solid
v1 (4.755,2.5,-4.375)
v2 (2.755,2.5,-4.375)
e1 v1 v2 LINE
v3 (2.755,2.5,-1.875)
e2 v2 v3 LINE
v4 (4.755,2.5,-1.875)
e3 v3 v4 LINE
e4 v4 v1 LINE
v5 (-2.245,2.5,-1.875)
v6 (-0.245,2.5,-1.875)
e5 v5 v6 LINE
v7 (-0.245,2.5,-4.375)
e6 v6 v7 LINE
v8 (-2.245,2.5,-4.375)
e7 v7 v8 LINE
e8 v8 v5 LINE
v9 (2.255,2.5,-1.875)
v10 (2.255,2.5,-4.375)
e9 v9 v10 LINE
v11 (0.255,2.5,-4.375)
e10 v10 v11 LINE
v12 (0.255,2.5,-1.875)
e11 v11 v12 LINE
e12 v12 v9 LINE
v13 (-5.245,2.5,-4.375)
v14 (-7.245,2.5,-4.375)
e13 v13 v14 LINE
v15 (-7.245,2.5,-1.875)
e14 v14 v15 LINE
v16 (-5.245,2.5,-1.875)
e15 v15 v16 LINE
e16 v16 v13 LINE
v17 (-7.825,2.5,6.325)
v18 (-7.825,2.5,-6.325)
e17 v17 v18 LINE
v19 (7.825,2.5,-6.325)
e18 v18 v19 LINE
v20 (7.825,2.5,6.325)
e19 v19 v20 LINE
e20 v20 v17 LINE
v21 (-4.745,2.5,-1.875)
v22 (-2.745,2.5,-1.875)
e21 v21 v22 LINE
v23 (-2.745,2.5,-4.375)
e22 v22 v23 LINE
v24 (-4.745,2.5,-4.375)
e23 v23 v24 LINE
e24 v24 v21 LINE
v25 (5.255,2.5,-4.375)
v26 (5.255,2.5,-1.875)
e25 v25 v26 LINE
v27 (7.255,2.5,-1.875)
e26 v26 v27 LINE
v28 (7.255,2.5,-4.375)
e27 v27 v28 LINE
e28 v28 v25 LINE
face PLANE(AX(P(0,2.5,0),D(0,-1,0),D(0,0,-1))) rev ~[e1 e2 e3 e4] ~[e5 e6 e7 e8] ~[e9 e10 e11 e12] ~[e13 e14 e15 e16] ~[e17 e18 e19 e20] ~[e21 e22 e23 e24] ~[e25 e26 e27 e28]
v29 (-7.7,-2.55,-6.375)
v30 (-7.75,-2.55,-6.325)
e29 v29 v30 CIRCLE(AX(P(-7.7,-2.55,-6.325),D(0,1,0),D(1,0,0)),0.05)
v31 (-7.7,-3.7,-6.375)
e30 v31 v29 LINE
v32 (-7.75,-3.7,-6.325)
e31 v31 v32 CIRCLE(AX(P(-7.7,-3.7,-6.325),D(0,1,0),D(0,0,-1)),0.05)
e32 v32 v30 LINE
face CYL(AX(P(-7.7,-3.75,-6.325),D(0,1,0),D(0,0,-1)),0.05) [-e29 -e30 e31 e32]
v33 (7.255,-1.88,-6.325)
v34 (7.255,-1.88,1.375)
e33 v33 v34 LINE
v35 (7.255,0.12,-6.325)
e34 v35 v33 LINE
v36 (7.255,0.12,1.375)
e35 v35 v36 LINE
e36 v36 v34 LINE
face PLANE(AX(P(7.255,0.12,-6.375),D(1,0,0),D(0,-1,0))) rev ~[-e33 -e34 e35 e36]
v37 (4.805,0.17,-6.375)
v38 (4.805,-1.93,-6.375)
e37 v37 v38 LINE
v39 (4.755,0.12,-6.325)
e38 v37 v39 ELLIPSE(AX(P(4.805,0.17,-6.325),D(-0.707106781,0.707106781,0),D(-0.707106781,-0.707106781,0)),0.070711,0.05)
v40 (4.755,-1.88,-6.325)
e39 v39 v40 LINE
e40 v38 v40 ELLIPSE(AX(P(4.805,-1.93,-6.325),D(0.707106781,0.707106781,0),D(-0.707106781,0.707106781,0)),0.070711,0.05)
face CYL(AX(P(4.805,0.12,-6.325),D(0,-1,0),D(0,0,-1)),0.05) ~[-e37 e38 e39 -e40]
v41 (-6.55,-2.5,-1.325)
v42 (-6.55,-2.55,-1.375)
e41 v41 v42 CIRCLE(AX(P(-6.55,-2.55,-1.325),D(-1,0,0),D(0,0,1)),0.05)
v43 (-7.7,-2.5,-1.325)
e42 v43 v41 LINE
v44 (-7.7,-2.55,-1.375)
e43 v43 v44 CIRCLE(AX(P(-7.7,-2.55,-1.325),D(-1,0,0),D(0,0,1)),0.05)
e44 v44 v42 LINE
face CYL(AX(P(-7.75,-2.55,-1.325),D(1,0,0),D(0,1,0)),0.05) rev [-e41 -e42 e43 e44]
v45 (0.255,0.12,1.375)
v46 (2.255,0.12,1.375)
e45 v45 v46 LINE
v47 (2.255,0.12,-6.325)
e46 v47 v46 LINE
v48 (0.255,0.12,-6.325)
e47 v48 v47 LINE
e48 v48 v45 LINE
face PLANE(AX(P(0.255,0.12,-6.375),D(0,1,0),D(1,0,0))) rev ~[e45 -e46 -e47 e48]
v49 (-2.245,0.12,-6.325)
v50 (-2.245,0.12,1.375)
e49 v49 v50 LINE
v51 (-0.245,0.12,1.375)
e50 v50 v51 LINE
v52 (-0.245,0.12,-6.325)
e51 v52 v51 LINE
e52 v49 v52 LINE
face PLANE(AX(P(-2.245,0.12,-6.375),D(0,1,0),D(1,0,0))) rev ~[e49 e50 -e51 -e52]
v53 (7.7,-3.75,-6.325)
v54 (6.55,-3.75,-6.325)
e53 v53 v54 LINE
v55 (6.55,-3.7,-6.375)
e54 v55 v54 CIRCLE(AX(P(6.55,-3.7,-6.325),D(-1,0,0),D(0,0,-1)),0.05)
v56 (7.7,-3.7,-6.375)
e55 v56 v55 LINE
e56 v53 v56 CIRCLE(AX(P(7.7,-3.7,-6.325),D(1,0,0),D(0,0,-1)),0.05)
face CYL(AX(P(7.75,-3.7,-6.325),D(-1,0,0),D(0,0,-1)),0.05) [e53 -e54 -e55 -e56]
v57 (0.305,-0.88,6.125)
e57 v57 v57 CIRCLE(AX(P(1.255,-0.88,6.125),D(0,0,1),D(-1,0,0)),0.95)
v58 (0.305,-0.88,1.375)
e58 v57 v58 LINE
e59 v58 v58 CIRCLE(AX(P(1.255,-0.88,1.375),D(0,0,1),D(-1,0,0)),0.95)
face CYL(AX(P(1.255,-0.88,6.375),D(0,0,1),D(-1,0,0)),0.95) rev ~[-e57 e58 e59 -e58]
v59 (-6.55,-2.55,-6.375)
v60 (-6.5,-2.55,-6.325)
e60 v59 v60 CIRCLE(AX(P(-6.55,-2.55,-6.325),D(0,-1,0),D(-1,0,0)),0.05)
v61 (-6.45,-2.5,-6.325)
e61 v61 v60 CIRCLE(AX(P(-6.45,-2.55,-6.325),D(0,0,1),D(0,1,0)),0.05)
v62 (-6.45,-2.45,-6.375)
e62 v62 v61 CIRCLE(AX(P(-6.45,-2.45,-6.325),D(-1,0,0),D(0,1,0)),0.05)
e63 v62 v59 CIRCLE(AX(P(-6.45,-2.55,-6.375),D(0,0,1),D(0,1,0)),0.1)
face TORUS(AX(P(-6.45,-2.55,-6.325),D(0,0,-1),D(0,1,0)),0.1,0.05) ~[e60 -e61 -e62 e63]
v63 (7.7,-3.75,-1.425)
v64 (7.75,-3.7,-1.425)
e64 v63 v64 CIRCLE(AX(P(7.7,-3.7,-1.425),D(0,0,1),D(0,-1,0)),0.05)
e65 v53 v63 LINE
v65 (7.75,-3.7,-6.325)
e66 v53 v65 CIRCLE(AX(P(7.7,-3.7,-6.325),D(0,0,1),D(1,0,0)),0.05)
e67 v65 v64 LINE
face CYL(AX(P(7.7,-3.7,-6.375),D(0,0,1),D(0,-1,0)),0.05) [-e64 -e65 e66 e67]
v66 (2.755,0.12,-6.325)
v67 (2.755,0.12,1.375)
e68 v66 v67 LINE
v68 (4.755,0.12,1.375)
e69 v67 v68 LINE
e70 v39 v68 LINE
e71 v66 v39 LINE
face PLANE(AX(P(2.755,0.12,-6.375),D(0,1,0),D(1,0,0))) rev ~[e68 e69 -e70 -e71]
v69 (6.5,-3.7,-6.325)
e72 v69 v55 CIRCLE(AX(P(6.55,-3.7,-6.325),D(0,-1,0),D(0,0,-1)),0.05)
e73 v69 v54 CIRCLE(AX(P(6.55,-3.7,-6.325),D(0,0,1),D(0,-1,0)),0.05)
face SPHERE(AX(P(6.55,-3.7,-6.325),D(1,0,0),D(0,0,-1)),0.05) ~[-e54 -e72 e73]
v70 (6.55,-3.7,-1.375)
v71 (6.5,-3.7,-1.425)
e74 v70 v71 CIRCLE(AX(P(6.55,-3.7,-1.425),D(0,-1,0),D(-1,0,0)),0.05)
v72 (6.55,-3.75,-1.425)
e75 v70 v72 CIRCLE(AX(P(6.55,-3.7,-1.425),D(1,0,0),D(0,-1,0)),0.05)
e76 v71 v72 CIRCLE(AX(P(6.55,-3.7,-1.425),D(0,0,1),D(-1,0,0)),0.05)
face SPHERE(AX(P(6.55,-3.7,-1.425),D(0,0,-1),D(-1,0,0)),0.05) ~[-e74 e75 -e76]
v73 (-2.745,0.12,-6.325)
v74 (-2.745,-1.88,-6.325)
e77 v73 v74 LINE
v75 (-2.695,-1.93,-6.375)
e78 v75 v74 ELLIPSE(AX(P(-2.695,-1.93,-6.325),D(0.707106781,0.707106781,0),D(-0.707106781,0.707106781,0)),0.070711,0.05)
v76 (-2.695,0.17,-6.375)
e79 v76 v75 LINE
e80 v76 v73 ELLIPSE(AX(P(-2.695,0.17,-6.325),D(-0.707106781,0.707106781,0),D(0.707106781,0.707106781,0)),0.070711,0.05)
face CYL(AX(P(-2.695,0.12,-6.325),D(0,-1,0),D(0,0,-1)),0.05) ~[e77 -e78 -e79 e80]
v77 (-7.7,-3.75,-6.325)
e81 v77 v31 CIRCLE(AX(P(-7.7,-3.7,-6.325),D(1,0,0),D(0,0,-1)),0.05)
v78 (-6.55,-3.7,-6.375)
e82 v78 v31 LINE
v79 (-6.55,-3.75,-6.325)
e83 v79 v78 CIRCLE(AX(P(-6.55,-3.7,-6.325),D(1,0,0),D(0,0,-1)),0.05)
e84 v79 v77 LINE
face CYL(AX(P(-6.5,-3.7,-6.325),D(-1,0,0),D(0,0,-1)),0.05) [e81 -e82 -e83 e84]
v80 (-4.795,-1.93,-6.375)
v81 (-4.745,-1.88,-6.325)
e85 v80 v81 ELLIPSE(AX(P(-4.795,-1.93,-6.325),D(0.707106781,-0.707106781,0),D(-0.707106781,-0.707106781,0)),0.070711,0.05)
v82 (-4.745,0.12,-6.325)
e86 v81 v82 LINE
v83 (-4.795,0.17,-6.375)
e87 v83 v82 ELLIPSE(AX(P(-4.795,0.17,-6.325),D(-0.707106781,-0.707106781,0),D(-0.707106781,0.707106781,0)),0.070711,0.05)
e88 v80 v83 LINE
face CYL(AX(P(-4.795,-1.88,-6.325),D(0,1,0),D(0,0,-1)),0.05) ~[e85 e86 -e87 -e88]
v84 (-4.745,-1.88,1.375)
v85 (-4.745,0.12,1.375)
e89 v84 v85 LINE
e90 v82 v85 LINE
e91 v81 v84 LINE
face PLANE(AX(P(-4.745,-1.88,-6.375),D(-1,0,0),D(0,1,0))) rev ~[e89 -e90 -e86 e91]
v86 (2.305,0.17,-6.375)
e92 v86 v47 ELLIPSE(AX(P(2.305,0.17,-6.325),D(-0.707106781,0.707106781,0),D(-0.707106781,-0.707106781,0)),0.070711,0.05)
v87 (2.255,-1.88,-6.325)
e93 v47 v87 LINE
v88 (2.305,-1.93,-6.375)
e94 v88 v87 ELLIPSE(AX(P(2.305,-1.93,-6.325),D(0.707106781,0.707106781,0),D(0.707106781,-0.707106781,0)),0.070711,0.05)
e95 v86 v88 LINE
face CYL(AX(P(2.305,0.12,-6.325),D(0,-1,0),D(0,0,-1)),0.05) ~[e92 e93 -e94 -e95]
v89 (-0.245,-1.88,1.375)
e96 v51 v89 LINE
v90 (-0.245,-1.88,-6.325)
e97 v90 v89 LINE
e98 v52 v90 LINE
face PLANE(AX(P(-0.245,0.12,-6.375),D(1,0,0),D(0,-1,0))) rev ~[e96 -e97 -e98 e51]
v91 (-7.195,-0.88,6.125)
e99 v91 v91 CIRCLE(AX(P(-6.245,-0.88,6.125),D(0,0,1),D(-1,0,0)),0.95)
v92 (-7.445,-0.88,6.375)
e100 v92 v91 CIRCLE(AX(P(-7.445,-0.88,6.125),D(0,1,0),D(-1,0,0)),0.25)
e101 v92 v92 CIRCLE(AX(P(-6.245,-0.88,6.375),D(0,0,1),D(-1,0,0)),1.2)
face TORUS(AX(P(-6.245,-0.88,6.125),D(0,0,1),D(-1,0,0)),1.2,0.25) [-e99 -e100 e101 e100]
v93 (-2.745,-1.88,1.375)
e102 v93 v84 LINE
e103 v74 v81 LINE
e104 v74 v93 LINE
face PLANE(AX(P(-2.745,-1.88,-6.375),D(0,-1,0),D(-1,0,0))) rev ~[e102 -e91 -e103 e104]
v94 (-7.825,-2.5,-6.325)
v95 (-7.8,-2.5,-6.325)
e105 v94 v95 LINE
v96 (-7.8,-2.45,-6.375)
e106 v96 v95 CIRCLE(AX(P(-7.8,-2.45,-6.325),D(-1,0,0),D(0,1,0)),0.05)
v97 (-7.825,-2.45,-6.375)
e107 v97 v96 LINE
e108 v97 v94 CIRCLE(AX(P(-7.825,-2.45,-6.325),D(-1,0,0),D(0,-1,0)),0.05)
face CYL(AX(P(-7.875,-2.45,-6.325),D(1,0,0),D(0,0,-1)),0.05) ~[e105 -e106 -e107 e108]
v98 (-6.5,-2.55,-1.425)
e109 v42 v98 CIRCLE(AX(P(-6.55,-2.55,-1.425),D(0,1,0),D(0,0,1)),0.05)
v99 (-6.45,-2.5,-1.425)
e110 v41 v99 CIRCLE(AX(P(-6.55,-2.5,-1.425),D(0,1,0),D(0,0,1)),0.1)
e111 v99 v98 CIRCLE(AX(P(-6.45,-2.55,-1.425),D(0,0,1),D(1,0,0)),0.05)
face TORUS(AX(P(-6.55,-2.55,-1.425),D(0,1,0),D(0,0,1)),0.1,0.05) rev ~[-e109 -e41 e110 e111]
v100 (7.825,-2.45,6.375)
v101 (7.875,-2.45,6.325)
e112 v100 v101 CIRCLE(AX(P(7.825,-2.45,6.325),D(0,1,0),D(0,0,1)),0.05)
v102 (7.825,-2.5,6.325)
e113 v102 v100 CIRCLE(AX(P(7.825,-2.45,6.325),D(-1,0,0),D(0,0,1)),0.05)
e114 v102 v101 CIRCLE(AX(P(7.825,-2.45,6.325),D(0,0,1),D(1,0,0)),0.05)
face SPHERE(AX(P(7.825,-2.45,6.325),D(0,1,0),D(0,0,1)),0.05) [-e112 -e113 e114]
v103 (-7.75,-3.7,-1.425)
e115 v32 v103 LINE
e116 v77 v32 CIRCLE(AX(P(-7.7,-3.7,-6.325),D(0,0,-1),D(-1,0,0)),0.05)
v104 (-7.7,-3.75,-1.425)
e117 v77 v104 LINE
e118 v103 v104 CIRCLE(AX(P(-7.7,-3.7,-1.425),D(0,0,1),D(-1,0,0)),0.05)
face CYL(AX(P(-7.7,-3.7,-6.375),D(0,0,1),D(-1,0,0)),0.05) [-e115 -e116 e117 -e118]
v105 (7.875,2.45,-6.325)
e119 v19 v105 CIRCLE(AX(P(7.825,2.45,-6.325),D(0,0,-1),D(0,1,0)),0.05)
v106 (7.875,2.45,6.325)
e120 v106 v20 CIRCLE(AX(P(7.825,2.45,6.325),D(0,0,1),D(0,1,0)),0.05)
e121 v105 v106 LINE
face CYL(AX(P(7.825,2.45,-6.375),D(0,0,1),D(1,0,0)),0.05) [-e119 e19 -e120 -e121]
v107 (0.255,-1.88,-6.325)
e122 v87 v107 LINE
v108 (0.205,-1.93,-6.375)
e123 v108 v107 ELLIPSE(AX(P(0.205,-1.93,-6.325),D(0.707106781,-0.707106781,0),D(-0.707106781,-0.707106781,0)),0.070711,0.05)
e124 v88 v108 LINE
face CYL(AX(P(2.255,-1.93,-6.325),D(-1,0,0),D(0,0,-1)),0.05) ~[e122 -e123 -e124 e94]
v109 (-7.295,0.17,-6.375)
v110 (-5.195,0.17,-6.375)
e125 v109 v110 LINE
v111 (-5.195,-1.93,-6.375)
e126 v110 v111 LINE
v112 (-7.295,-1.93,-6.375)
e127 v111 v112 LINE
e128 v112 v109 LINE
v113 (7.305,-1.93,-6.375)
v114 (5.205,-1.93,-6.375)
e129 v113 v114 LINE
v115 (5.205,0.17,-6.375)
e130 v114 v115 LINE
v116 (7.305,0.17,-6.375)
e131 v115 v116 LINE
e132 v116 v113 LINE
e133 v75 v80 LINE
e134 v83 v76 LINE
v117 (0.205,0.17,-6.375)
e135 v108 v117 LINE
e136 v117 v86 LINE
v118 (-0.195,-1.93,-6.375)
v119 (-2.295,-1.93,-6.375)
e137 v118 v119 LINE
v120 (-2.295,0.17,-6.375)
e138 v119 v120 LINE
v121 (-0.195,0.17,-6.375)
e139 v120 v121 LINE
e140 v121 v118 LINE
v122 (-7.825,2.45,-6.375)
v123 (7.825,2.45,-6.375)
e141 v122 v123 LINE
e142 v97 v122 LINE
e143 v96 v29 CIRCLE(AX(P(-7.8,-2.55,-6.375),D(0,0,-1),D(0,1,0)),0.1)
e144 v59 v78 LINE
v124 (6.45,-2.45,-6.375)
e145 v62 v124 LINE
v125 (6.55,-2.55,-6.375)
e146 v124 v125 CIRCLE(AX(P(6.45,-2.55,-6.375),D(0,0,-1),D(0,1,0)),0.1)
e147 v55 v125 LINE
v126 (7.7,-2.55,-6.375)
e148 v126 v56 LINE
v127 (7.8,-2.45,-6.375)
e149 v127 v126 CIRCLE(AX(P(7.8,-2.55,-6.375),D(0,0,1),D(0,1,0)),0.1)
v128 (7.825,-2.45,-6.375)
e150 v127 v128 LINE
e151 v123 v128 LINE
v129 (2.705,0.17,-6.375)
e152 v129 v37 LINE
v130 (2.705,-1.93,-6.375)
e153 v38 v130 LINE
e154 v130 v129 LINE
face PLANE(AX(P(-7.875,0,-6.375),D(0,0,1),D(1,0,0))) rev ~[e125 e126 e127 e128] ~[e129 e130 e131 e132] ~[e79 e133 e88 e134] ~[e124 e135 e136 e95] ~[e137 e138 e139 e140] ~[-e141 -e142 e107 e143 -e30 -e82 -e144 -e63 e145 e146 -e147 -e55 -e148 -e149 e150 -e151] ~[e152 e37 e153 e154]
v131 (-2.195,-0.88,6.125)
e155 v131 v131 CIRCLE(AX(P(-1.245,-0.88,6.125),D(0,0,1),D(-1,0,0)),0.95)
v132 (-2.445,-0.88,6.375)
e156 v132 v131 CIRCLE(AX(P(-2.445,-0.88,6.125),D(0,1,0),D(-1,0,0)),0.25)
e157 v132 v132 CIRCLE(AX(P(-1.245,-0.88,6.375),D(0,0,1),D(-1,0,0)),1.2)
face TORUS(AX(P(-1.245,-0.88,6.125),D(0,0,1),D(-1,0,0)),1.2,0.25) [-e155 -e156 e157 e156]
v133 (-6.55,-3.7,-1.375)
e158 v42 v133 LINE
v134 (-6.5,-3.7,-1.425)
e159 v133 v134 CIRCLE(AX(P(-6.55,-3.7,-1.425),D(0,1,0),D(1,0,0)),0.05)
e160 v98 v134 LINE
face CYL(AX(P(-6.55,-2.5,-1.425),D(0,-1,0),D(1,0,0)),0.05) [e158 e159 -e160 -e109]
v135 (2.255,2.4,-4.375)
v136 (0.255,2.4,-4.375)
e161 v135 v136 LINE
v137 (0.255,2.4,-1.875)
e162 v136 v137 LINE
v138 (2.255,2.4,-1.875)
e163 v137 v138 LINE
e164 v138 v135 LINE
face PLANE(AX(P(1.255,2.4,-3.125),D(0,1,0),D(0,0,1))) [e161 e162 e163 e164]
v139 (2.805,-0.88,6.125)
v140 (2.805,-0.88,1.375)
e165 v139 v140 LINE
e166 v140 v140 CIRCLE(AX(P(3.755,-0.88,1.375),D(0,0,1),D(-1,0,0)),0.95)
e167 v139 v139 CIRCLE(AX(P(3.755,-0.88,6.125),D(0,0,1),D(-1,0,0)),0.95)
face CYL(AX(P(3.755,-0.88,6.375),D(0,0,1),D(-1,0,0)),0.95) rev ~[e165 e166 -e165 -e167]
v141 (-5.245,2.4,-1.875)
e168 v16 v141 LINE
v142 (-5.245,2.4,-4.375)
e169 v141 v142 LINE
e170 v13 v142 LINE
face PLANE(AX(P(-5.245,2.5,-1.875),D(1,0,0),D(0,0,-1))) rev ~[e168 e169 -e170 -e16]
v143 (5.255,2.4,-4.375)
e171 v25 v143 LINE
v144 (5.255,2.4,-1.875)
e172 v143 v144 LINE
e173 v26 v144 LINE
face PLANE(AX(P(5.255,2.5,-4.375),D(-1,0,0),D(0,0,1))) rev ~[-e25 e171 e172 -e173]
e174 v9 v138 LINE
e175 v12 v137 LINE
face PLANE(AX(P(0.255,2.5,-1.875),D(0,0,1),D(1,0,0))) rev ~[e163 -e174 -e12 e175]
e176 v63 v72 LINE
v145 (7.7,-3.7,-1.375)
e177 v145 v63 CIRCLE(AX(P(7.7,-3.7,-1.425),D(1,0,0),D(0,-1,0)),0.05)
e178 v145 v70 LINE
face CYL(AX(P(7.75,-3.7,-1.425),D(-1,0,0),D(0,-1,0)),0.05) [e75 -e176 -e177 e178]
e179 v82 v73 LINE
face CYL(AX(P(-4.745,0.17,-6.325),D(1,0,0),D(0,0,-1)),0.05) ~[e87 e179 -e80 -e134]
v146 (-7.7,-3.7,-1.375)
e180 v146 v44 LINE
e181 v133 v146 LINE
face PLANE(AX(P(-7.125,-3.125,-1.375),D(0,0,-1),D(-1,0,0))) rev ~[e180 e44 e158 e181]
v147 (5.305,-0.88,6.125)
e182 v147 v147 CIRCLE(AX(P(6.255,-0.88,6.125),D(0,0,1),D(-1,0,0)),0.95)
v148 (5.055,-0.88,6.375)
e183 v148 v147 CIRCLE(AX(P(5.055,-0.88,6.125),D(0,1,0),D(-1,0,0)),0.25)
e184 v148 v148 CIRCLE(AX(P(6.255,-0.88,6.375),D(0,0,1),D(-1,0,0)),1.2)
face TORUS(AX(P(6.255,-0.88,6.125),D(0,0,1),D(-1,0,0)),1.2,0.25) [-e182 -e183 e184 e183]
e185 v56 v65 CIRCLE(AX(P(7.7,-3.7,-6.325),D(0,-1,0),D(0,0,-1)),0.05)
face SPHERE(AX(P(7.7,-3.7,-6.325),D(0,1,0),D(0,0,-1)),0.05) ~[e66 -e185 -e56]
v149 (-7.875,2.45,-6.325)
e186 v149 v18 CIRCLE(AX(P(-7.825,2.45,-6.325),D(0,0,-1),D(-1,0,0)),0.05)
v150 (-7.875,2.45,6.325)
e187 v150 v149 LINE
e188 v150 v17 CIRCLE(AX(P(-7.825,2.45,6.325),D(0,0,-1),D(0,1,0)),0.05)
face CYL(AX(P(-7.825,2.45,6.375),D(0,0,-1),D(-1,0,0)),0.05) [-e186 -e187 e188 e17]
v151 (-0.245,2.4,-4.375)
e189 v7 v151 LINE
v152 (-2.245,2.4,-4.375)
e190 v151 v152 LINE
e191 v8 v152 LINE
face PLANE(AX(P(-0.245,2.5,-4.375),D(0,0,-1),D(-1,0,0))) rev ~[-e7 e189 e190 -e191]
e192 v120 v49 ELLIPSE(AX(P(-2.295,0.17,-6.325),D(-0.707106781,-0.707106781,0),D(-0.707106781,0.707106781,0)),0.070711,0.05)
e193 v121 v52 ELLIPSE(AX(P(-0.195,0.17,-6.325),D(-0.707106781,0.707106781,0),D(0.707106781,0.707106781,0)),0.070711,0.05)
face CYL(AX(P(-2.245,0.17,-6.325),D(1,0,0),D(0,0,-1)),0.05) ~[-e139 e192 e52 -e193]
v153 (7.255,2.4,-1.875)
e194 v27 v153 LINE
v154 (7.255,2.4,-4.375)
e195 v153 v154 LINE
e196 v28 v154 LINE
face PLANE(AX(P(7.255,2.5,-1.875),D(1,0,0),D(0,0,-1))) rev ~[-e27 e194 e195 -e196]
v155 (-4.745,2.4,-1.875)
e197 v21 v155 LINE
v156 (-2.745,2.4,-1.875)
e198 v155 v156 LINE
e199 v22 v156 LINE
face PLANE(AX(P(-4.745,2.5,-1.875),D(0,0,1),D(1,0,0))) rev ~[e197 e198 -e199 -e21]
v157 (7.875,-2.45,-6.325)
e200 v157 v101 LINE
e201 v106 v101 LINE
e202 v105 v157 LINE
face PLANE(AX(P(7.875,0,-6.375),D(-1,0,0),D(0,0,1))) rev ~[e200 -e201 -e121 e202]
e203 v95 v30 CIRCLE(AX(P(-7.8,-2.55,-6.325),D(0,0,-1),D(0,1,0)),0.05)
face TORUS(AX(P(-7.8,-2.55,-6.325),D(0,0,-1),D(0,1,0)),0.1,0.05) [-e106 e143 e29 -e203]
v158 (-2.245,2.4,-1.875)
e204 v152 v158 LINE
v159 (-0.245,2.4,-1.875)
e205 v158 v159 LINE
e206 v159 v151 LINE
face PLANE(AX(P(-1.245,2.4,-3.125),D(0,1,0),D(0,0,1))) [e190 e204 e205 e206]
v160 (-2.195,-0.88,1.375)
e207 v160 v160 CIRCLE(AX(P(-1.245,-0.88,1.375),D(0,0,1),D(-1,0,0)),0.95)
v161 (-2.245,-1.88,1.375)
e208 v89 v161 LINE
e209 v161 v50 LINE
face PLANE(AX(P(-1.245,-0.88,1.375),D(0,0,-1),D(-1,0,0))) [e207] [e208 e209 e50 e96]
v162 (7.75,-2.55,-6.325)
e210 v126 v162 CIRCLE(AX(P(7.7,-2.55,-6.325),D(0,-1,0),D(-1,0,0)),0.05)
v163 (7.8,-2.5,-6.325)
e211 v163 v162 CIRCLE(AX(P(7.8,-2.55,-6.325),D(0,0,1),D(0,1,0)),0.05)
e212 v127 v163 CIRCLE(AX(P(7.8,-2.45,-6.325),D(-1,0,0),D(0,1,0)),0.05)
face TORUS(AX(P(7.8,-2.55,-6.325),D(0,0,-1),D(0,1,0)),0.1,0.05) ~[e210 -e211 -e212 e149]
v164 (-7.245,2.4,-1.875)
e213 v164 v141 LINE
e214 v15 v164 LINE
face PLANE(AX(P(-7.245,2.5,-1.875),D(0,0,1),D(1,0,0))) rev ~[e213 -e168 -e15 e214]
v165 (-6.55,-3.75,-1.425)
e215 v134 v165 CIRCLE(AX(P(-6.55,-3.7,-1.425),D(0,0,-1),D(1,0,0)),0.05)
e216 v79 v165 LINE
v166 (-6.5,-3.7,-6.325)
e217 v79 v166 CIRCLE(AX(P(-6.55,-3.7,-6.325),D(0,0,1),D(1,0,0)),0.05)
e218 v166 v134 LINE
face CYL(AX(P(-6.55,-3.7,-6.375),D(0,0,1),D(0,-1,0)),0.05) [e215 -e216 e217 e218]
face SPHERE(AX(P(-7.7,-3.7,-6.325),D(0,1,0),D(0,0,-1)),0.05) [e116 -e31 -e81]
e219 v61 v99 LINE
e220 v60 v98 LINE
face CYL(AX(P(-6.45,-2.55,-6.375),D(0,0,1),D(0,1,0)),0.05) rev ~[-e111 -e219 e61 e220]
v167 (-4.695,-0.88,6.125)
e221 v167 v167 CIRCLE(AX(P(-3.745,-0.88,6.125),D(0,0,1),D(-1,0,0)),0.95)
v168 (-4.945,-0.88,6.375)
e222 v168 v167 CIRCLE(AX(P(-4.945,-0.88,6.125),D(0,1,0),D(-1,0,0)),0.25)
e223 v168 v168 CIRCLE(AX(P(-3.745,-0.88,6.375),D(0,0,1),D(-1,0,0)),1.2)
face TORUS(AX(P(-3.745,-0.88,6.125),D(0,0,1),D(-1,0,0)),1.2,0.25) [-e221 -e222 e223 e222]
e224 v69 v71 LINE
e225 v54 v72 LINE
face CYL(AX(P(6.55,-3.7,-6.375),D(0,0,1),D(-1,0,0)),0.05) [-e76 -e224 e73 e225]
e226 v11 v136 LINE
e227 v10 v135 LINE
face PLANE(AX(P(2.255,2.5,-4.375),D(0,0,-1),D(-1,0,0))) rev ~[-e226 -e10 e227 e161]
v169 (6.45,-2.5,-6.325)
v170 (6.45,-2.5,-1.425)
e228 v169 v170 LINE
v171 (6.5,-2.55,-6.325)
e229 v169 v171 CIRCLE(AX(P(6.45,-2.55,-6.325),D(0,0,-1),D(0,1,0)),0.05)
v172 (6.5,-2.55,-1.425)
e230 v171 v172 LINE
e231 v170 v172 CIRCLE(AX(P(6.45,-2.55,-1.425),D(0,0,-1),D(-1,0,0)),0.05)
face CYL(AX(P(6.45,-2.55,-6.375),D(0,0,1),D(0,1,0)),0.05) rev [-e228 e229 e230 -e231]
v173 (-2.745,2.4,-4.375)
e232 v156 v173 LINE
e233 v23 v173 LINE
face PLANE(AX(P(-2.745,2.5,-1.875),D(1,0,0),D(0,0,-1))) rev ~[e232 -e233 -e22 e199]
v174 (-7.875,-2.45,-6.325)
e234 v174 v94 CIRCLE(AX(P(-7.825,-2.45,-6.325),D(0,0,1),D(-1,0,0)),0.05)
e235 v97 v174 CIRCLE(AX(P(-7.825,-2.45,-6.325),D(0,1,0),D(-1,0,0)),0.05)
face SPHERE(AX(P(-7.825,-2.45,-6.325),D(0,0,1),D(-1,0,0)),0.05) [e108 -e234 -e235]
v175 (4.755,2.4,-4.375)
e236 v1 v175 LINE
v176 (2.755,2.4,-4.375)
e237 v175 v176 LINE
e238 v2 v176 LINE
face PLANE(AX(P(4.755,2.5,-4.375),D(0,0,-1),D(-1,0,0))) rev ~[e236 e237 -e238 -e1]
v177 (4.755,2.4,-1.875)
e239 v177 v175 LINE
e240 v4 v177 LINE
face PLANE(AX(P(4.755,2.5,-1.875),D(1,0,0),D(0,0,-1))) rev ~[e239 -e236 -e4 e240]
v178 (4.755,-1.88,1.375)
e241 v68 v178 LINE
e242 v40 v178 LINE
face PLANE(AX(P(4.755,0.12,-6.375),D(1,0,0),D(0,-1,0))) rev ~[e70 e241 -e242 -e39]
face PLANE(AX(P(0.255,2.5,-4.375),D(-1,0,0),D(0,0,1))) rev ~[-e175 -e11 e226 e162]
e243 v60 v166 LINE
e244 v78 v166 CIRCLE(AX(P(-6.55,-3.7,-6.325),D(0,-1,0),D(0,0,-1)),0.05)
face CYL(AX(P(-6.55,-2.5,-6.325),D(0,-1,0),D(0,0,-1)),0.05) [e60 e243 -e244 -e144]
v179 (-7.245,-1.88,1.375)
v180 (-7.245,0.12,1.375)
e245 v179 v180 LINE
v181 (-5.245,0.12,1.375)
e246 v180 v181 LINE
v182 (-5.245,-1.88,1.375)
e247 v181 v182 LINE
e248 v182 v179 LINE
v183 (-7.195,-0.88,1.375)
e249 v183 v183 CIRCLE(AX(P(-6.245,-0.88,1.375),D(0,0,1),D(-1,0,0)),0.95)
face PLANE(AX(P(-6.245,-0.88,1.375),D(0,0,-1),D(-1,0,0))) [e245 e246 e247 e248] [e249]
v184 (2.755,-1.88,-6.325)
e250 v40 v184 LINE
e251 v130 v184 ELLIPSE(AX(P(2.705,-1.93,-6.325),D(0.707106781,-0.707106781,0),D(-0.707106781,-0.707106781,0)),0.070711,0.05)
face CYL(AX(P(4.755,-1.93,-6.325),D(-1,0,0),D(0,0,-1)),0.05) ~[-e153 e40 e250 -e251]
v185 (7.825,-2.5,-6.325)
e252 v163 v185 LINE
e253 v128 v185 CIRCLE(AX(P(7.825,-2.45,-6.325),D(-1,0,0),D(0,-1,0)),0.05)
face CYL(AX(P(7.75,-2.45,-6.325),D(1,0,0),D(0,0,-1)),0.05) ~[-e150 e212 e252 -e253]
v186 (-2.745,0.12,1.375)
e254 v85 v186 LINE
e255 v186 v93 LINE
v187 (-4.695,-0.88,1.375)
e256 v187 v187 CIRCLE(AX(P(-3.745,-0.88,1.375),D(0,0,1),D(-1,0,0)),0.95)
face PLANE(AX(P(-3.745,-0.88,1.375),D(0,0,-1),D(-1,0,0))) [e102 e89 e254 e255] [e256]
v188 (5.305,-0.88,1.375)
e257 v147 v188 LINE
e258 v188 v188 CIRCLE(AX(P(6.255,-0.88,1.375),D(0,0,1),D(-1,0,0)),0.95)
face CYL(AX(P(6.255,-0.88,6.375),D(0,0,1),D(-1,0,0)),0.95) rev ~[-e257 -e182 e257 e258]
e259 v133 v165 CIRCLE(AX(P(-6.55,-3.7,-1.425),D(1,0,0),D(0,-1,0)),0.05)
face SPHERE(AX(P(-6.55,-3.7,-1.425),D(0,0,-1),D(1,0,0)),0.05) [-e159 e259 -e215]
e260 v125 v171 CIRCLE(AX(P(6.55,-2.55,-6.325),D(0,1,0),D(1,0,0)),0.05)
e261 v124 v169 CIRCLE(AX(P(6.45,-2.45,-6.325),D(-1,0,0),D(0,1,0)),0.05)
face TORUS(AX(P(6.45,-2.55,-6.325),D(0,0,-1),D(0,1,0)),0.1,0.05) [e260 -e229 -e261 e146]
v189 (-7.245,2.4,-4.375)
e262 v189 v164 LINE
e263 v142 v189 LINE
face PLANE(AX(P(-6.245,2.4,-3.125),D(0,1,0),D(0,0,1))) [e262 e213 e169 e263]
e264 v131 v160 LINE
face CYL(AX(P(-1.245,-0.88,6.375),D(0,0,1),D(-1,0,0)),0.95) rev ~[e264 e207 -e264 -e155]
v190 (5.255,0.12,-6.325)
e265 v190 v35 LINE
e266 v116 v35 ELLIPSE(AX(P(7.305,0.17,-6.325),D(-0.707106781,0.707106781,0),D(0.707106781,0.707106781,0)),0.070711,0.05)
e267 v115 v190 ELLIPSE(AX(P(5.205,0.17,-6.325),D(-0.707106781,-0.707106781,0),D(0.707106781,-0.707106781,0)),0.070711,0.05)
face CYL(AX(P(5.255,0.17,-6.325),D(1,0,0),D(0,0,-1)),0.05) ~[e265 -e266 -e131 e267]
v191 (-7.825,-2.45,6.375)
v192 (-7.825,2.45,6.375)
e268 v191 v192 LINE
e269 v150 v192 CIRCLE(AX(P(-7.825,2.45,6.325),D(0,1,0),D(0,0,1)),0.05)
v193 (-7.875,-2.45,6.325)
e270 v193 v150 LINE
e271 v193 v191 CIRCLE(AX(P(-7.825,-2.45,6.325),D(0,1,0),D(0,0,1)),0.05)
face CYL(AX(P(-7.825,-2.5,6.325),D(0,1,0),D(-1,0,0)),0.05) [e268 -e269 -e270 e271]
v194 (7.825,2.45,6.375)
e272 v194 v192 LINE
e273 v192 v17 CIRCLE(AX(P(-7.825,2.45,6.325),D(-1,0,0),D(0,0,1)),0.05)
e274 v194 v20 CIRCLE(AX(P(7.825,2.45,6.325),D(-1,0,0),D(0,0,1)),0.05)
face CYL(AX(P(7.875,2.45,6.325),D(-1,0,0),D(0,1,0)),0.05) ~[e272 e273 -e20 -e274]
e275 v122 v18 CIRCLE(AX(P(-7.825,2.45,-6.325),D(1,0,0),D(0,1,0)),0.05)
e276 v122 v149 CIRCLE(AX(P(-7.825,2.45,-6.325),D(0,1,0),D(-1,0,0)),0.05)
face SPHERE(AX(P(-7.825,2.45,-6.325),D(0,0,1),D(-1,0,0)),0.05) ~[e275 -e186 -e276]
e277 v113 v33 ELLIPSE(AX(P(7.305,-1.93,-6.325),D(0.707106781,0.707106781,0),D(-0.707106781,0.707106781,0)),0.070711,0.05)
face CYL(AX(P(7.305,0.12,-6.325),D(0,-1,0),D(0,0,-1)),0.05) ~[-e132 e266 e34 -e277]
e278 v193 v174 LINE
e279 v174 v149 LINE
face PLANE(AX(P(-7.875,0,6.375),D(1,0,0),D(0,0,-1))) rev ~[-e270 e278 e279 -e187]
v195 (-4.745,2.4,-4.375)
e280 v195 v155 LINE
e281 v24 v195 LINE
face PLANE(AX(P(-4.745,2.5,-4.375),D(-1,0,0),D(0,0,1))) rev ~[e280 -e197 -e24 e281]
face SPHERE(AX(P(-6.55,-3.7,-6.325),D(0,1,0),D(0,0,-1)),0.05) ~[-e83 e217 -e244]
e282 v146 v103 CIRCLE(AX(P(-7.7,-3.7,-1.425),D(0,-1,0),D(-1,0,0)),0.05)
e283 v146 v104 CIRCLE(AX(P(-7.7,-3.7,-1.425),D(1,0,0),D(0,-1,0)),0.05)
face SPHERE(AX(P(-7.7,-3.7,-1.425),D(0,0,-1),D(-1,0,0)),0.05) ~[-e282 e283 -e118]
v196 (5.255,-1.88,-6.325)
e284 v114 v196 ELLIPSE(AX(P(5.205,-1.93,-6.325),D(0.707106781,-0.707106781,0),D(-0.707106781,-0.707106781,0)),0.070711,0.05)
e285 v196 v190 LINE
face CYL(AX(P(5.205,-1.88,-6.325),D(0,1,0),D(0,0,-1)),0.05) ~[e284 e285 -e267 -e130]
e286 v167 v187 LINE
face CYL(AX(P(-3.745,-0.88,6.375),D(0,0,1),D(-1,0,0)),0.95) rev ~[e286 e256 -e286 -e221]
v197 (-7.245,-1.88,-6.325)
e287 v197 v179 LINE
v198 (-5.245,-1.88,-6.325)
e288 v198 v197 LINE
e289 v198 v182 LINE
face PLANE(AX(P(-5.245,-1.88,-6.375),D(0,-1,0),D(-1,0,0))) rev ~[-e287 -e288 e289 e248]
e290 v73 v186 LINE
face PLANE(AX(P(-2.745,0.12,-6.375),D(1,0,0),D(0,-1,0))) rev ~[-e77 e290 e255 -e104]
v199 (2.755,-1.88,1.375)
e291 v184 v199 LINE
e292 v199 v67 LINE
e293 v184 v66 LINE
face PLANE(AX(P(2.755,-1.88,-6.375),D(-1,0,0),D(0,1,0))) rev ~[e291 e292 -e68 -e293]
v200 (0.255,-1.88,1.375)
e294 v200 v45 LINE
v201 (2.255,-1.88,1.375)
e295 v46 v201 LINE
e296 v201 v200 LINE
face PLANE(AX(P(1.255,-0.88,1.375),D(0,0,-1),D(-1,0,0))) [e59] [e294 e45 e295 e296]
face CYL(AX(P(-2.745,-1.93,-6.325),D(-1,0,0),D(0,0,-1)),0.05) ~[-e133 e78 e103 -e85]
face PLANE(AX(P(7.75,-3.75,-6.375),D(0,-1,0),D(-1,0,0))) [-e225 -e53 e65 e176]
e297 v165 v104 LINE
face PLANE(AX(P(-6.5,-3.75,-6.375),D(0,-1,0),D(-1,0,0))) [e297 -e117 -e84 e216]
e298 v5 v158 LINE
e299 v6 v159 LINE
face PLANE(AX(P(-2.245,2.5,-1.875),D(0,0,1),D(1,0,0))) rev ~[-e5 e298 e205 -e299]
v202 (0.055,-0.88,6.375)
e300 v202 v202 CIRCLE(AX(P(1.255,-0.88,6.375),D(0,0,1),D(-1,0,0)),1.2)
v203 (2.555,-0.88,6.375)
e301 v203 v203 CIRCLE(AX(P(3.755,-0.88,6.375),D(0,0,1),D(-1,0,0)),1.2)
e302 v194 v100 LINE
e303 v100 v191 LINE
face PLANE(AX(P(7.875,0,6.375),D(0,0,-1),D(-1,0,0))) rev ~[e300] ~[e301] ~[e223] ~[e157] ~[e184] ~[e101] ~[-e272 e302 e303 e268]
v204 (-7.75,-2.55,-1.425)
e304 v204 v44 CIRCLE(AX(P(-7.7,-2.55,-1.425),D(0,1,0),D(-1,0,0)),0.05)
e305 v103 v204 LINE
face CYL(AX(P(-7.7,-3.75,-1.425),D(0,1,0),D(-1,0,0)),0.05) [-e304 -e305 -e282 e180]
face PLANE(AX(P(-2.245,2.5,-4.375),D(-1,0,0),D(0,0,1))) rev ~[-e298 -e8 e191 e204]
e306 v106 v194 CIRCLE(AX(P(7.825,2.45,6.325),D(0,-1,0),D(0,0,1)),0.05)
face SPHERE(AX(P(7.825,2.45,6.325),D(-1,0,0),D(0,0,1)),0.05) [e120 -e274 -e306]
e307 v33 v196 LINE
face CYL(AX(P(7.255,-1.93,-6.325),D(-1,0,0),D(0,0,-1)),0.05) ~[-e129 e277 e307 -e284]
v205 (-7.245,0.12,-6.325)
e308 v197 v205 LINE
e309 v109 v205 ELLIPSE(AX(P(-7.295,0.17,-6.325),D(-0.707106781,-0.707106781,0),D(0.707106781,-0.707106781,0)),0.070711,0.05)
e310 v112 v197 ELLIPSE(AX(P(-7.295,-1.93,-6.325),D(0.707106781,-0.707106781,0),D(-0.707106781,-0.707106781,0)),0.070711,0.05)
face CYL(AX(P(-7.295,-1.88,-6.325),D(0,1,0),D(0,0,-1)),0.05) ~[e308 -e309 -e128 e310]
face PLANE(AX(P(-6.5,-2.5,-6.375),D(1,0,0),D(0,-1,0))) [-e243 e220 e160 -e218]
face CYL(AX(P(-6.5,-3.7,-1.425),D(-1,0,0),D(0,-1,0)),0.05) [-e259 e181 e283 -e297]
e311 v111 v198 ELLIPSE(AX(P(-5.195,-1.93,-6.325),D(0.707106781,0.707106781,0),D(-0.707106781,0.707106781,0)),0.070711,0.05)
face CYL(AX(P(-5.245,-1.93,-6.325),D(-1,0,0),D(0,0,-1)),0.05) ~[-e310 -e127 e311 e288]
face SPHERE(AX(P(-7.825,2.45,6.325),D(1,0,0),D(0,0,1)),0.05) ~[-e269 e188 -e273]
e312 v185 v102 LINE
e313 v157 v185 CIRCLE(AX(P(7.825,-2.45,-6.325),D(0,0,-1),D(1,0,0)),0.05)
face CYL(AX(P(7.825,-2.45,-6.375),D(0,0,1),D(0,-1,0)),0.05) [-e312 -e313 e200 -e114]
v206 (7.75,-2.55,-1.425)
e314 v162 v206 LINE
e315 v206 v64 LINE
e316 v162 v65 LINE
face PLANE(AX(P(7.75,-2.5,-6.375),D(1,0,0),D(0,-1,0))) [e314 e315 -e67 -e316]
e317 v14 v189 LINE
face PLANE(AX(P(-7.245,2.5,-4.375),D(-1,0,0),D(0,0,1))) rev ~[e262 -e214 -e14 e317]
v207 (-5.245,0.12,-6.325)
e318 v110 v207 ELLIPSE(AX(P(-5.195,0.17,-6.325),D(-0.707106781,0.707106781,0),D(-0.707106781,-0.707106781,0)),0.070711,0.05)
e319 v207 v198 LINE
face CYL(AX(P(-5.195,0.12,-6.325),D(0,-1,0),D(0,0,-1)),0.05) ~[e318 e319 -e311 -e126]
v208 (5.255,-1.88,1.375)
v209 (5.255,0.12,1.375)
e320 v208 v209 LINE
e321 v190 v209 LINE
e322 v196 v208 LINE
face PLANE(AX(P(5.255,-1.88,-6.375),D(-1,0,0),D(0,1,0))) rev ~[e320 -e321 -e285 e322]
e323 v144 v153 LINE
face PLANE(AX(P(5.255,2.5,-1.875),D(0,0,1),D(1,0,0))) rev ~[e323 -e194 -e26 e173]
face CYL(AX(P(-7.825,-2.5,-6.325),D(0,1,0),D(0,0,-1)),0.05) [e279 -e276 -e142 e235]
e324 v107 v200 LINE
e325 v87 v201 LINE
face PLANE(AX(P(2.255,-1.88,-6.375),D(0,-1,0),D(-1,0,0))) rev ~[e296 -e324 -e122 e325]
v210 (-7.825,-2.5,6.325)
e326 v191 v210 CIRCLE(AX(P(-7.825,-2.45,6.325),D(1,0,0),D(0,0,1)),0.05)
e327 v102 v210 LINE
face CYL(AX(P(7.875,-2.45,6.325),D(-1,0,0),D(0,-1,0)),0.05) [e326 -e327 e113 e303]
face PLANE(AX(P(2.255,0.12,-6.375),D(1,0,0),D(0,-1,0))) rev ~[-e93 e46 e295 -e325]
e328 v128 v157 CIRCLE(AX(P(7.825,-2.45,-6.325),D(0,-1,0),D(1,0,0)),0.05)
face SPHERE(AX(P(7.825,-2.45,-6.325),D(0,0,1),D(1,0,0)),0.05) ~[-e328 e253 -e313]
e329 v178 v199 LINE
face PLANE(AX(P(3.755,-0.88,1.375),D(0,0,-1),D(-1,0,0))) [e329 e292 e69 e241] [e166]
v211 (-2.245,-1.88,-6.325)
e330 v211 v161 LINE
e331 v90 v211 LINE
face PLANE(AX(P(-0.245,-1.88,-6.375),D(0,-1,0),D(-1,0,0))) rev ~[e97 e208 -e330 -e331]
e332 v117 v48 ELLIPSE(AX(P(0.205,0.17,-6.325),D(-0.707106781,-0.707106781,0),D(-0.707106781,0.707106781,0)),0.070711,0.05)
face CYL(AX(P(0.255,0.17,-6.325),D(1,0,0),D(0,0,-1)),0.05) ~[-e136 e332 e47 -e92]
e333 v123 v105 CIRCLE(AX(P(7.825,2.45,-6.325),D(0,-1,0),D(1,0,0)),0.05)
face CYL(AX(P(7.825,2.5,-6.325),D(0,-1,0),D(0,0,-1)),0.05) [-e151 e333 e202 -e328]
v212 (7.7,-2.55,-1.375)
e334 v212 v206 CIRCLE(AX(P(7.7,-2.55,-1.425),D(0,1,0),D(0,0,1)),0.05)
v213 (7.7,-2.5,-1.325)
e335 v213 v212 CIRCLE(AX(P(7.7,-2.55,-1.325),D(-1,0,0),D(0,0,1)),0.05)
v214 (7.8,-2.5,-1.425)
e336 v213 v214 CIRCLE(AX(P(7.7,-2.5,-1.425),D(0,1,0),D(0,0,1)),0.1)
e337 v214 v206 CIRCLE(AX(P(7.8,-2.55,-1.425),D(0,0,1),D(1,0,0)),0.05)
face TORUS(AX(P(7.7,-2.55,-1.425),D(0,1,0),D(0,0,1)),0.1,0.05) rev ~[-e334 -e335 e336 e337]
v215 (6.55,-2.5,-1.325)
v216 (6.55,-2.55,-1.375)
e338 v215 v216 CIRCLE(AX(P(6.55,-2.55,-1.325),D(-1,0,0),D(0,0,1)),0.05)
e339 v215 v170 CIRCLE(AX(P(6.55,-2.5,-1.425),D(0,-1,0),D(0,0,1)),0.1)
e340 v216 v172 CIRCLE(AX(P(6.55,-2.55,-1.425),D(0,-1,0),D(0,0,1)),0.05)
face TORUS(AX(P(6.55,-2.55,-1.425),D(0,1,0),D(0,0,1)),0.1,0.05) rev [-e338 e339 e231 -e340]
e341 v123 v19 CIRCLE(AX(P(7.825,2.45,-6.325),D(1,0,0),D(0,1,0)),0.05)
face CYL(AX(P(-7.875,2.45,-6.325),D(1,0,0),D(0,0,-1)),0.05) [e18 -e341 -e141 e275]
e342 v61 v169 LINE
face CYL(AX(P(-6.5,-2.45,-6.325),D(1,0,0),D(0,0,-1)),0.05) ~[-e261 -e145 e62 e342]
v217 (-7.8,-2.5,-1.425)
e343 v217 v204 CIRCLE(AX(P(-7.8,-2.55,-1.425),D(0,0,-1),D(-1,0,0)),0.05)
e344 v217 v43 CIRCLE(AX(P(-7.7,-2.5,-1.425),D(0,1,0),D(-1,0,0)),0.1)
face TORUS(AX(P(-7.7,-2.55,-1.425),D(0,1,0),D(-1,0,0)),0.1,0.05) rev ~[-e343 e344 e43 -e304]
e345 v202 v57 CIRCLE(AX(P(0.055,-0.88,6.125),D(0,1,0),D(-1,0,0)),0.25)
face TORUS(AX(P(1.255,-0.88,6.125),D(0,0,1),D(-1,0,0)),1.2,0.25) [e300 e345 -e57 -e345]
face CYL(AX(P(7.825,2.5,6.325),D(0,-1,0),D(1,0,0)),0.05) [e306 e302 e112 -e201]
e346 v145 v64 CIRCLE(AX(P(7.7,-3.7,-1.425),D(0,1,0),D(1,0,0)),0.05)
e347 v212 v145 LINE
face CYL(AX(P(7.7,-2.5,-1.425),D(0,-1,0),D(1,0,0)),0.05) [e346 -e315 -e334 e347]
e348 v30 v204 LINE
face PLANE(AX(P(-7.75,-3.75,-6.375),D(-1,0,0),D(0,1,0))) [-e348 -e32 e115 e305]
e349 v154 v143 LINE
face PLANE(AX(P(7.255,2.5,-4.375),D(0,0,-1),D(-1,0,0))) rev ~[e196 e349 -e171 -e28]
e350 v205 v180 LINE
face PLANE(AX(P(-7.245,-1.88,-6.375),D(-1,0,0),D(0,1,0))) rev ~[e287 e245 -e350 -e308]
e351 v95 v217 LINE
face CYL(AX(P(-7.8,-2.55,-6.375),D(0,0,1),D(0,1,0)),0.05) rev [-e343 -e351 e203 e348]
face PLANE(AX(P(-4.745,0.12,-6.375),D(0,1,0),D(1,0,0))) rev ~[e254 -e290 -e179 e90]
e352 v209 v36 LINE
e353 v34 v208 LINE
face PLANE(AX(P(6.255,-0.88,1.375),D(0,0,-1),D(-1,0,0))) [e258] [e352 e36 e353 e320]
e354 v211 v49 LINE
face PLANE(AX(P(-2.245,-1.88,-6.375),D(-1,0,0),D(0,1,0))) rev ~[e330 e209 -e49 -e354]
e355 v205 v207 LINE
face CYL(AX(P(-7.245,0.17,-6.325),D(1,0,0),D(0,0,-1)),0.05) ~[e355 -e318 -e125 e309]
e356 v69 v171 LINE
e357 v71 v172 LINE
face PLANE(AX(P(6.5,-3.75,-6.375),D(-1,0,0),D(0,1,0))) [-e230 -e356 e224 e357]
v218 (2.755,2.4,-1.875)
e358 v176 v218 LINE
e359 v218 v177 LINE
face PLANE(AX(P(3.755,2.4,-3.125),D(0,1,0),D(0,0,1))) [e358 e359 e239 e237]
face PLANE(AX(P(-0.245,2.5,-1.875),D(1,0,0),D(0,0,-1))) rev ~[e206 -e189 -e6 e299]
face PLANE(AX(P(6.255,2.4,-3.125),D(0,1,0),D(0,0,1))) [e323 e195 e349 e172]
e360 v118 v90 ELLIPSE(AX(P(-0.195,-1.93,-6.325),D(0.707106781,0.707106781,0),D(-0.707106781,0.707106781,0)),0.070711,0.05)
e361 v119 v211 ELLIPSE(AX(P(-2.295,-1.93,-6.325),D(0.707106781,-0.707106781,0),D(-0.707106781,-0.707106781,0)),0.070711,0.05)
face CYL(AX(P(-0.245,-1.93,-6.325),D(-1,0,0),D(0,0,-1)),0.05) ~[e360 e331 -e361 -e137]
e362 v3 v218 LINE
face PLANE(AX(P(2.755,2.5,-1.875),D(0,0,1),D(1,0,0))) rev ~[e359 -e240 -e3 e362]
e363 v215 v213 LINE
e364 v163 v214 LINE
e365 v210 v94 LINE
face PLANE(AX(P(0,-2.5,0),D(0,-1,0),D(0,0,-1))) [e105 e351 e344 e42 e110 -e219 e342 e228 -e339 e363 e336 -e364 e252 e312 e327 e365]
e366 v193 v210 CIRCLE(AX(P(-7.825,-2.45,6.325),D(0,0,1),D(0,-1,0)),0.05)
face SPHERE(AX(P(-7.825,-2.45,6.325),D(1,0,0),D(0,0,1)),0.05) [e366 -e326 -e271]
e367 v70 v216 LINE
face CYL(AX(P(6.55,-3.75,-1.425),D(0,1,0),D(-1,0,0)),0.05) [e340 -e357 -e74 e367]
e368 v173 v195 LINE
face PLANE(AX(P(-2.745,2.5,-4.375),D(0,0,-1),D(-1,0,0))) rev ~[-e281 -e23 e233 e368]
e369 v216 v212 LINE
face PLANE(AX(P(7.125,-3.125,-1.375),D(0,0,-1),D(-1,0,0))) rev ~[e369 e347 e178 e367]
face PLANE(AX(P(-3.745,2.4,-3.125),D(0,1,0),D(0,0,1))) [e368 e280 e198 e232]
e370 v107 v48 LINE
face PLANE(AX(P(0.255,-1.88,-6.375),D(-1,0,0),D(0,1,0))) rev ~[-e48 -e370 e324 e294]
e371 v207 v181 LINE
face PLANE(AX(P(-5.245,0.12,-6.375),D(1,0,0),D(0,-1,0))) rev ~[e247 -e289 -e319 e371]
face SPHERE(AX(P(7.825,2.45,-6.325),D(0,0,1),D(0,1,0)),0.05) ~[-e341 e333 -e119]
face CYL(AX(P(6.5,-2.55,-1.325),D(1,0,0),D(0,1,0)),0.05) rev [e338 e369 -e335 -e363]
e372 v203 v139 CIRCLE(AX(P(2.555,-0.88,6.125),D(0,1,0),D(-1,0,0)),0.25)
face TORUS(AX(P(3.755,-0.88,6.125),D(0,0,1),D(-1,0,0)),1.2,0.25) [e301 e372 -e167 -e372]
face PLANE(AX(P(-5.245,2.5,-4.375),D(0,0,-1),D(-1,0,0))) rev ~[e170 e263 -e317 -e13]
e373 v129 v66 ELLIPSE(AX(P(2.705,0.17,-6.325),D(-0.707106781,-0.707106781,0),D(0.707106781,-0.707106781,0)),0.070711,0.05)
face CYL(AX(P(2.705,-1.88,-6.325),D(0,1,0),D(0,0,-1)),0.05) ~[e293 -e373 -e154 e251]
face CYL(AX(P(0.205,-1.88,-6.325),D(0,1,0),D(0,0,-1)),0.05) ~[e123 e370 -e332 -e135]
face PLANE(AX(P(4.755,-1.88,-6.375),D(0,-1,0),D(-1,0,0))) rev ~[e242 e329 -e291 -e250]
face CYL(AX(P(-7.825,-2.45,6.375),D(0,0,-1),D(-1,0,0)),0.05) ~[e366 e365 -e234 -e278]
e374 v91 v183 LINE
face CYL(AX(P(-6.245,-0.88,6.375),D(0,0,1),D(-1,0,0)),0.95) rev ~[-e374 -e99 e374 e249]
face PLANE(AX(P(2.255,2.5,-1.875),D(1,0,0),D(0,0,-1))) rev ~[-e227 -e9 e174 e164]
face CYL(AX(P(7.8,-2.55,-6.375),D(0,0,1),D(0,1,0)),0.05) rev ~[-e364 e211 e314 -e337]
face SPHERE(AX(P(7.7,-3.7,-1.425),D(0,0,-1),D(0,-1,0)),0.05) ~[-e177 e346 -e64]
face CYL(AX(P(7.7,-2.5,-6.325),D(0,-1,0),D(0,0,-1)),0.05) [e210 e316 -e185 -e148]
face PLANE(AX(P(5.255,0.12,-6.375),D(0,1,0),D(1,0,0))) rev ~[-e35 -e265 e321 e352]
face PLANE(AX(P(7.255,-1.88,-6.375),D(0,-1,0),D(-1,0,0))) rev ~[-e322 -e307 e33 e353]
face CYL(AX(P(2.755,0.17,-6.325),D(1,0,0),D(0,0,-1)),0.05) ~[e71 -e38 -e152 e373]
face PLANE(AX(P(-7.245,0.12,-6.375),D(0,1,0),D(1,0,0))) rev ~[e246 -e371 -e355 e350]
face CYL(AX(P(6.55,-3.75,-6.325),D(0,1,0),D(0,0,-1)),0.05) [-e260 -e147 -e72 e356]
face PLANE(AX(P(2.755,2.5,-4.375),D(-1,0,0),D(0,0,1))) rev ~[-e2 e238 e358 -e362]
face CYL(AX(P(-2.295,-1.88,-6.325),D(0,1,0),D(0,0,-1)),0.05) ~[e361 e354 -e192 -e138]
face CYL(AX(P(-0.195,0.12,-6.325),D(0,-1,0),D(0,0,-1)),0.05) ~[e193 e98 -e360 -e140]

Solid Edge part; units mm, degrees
sketch "Sketch1" plane through (0, 0, 0) normal (0, -1, 0) x (1, 0, 0)
  line L0 (-7.875, -6.375) -> (7.875, -6.375)
  line L1 (7.875, -6.375) -> (7.875, 6.375)
  line L2 (7.875, 6.375) -> (-7.875, 6.375)
  line L3 (-7.875, 6.375) -> (-7.875, -6.375)
  dimension "D1" = 12.75
  dimension "D2" = 15.75
extrude "Protrusion1" add sketch "Sketch1" along normal mid plane 5
sketch "Sketch2" plane through (0, 0, -6.375) normal (0, 0, -1) x (1, 0, 0)
  line L0 (-7.245, -0.12) -> (-5.245, -0.12)
  line L1 (-5.245, -0.12) -> (-5.245, 1.88)
  line L2 (-5.245, 1.88) -> (-7.245, 1.88)
  line L3 (-7.245, 1.88) -> (-7.245, -0.12)
  line L4 (-4.745, -0.12) -> (-2.745, -0.12)
  line L5 (-2.745, -0.12) -> (-2.745, 1.88)
  line L6 (-2.745, 1.88) -> (-4.745, 1.88)
  line L7 (-4.745, 1.88) -> (-4.745, -0.12)
  line L8 (-2.245, -0.12) -> (-0.245, -0.12)
  line L9 (-0.245, -0.12) -> (-0.245, 1.88)
  line L10 (-0.245, 1.88) -> (-2.245, 1.88)
  line L11 (-2.245, 1.88) -> (-2.245, -0.12)
  line L12 (0.255, -0.12) -> (2.255, -0.12)
  line L13 (2.255, -0.12) -> (2.255, 1.88)
  line L14 (2.255, 1.88) -> (0.255, 1.88)
  line L15 (0.255, 1.88) -> (0.255, -0.12)
  line L16 (2.755, -0.12) -> (4.755, -0.12)
  line L17 (4.755, -0.12) -> (4.755, 1.88)
  line L18 (4.755, 1.88) -> (2.755, 1.88)
  line L19 (2.755, 1.88) -> (2.755, -0.12)
  line L20 (5.255, -0.12) -> (7.255, -0.12)
  line L21 (7.255, -0.12) -> (7.255, 1.88)
  line L22 (7.255, 1.88) -> (5.255, 1.88)
  line L23 (5.255, 1.88) -> (5.255, -0.12)
  dimension "D1" = 2
  dimension "D2" = 2
  dimension "D3" = 2
  dimension "D4" = 2
  dimension "D5" = 2
  dimension "D6" = 2
  dimension "D7" = 2
  dimension "D8" = 2
  dimension "D9" = 2
  dimension "D10" = 2
  dimension "D11" = 2
  dimension "D12" = 2
  dimension "D13" = 0.5
  dimension "D14" = 0.5
  dimension "D15" = 0.5
  dimension "D16" = 0.5
  dimension "D17" = 0.5
  dimension "D18" = 0.62
  dimension "D19" = 2.62
  dimension "D20" = 2.38
  dimension "D21" = 2.38
  dimension "D22" = 2.38
  dimension "D23" = 2.38
  dimension "D24" = 2.38
extrude "Extrusionsausschnitt_1" cut sketch "Sketch2" against normal blind 18
sketch "Sketch3" plane through (0, 0, -6.375) normal (0, 0, -1) x (1, 0, 0)
  line L0 (-7.75, 2.5) -> (-6.5, 2.5)
  line L1 (-6.5, 2.5) -> (-6.5, 3.75)
  line L2 (-6.5, 3.75) -> (-7.75, 3.75)
  line L3 (-7.75, 3.75) -> (-7.75, 2.5)
  line L4 (6.5, 2.5) -> (7.75, 2.5)
  line L5 (7.75, 2.5) -> (7.75, 3.75)
  line L6 (7.75, 3.75) -> (6.5, 3.75)
  line L7 (6.5, 3.75) -> (6.5, 2.5)
  dimension "D1" = 1.25
  dimension "D2" = 1.25
  dimension "D3" = 1.25
  dimension "D4" = 1.25
  dimension "D5" = 13
  dimension "D6" = 6.5
extrude "Extrusionsausprägung_2" add sketch "Sketch3" against normal blind 5
sketch "Sketch4" plane through (0, 2.5, 0) normal (0, 1, 0) x (-1, 0, 0)
  line L0 (-7.255, -4.375) -> (-5.255, -4.375)
  line L1 (-5.255, -4.375) -> (-5.255, -1.875)
  line L2 (-5.255, -1.875) -> (-7.255, -1.875)
  line L3 (-7.255, -1.875) -> (-7.255, -4.375)
  line L4 (-4.755, -4.375) -> (-2.755, -4.375)
  line L5 (-2.755, -4.375) -> (-2.755, -1.875)
  line L6 (-2.755, -1.875) -> (-4.755, -1.875)
  line L7 (-4.755, -1.875) -> (-4.755, -4.375)
  line L8 (-2.255, -4.375) -> (-0.255, -4.375)
  line L9 (-0.255, -4.375) -> (-0.255, -1.875)
  line L10 (-0.255, -1.875) -> (-2.255, -1.875)
  line L11 (-2.255, -1.875) -> (-2.255, -4.375)
  line L12 (0.245, -4.375) -> (2.245, -4.375)
  line L13 (2.245, -4.375) -> (2.245, -1.875)
  line L14 (2.245, -1.875) -> (0.245, -1.875)
  line L15 (0.245, -1.875) -> (0.245, -4.375)
  line L16 (2.745, -4.375) -> (4.745, -4.375)
  line L17 (4.745, -4.375) -> (4.745, -1.875)
  line L18 (4.745, -1.875) -> (2.745, -1.875)
  line L19 (2.745, -1.875) -> (2.745, -4.375)
  line L20 (5.245, -4.375) -> (7.245, -4.375)
  line L21 (7.245, -4.375) -> (7.245, -1.875)
  line L22 (7.245, -1.875) -> (5.245, -1.875)
  line L23 (5.245, -1.875) -> (5.245, -4.375)
  dimension "D1" = 2
  dimension "D2" = 2.5
  dimension "D3" = 2
  dimension "D4" = 2.5
  dimension "D5" = 2
  dimension "D6" = 2.5
  dimension "D7" = 2
  dimension "D8" = 2.5
  dimension "D9" = 2
  dimension "D10" = 2.5
  dimension "D11" = 2
  dimension "D12" = 2.5
  dimension "D13" = 0.5
  dimension "D14" = 0.5
  dimension "D15" = 0.5
  dimension "D16" = 0.5
  dimension "D17" = 0.5
  dimension "D18" = 0.62
  dimension "D19" = 2
  dimension "D20" = 2
  dimension "D21" = 2
  dimension "D22" = 2
  dimension "D23" = 2
  dimension "D24" = 2
extrude "Extrusionsausschnitt_2" cut sketch "Sketch4" against normal blind 0.1
sketch "Sketch5" plane through (0, 0, 6.375) normal (0, 0, 1) x (-1, 0, 0)
  circle A0 centre (-6.255, 0.88) radius 0.95
  circle A1 centre (-3.755, 0.88) radius 0.95
  circle A2 centre (-1.255, 0.88) radius 0.95
  circle A3 centre (1.245, 0.88) radius 0.95
  circle A4 centre (3.745, 0.88) radius 0.95
  circle A5 centre (6.245, 0.88) radius 0.95
  line L0 (-7.255, 1.88) -> (-5.255, 1.88)
  line L1 (-5.255, 1.88) -> (-5.255, -0.12)
  line L2 (-5.255, -0.12) -> (-7.255, -0.12)
  line L3 (-7.255, -0.12) -> (-7.255, 1.88)
  line L4 (-4.755, 1.88) -> (-2.755, 1.88)
  line L5 (-2.755, 1.88) -> (-2.755, -0.12)
  line L6 (-2.755, -0.12) -> (-4.755, -0.12)
  line L7 (-4.755, -0.12) -> (-4.755, 1.88)
  line L8 (-2.255, 1.88) -> (-0.255, 1.88)
  line L9 (-0.255, 1.88) -> (-0.255, -0.12)
  line L10 (-0.255, -0.12) -> (-2.255, -0.12)
  line L11 (-2.255, -0.12) -> (-2.255, 1.88)
  line L12 (0.245, 1.88) -> (2.245, 1.88)
  line L13 (2.245, 1.88) -> (2.245, -0.12)
  line L14 (2.245, -0.12) -> (0.245, -0.12)
  line L15 (0.245, -0.12) -> (0.245, 1.88)
  line L16 (2.745, 1.88) -> (4.745, 1.88)
  line L17 (4.745, 1.88) -> (4.745, -0.12)
  line L18 (4.745, -0.12) -> (2.745, -0.12)
  line L19 (2.745, -0.12) -> (2.745, 1.88)
  line L20 (5.245, 1.88) -> (7.245, 1.88)
  line L21 (7.245, 1.88) -> (7.245, -0.12)
  line L22 (7.245, -0.12) -> (5.245, -0.12)
  line L23 (5.245, -0.12) -> (5.245, 1.88)
extrude "Extrusionsausprägung_3" add sketch "Sketch5" against normal blind 5
fillet "Verrundung_1" radius 0.05 60 edges at (0, 2.5, 6.375) (7.875, 0, 6.375) (0, -2.5, 6.375) (-7.875, 0, 6.375) (-7.875, 2.5, 0) (-7.875, -2.5, 0) (7.875, 2.5, 0) (7.875, -2.5, 0) (0, -2.5, -6.375) (-7.875, 0, -6.375) (-7.8125, -2.5, -6.375) (0, 2.5, -6.375) (7.875, 0, -6.375) (7.8125, -2.5, -6.375) (7.75, -3.125, -6.375) (7.125, -3.75, -6.375) (6.5, -3.125, -6.375) (-6.5, -3.125, -6.375) (-7.125, -2.5, -1.375) (-7.75, -3.125, -6.375) (-7.125, -3.75, -6.375) (-7.75, -3.75, -3.875) (-7.75, -3.125, -1.375) (-7.75, -2.5, -3.875) (-6.5, -2.5, -3.875) (-6.5, -3.75, -3.875) (7.75, -2.5, -3.875) (7.75, -3.75, -3.875) (6.5, -3.75, -3.875) (6.5, -2.5, -3.875) (6.5, -3.125, -1.375) (6.255, 0.12, -6.375) (7.125, -3.75, -1.375) (7.75, -3.125, -1.375) (7.125, -2.5, -1.375) (-6.5, -3.125, -1.375) (-7.125, -3.75, -1.375) (6.255, -1.88, -6.375) (5.255, -0.88, -6.375) (7.255, -0.88, -6.375) (3.755, -1.88, -6.375) (4.755, -0.88, -6.375) (3.755, 0.12, -6.375) (2.755, -0.88, -6.375) (2.255, -0.88, -6.375) (1.255, -1.88, -6.375) (0.255, -0.88, -6.375) (1.255, 0.12, -6.375) (-1.245, -1.88, -6.375) (-2.245, -0.88, -6.375) (-1.245, 0.12, -6.375) (-0.245, -0.88, -6.375) (-3.745, -1.88, -6.375) (-4.745, -0.88, -6.375) (-3.745, 0.12, -6.375) (-2.745, -0.88, -6.375) (-6.245, -1.88, -6.375) (-5.245, -0.88, -6.375) (-6.245, 0.12, -6.375) (-7.245, -0.88, -6.375)
fillet "Verrundung_2" radius 0.25 6 edges at (-5.295, -0.88, 6.375) (-2.795, -0.88, 6.375) (-0.295, -0.88, 6.375) (2.205, -0.88, 6.375) (4.705, -0.88, 6.375) (7.205, -0.88, 6.375)
